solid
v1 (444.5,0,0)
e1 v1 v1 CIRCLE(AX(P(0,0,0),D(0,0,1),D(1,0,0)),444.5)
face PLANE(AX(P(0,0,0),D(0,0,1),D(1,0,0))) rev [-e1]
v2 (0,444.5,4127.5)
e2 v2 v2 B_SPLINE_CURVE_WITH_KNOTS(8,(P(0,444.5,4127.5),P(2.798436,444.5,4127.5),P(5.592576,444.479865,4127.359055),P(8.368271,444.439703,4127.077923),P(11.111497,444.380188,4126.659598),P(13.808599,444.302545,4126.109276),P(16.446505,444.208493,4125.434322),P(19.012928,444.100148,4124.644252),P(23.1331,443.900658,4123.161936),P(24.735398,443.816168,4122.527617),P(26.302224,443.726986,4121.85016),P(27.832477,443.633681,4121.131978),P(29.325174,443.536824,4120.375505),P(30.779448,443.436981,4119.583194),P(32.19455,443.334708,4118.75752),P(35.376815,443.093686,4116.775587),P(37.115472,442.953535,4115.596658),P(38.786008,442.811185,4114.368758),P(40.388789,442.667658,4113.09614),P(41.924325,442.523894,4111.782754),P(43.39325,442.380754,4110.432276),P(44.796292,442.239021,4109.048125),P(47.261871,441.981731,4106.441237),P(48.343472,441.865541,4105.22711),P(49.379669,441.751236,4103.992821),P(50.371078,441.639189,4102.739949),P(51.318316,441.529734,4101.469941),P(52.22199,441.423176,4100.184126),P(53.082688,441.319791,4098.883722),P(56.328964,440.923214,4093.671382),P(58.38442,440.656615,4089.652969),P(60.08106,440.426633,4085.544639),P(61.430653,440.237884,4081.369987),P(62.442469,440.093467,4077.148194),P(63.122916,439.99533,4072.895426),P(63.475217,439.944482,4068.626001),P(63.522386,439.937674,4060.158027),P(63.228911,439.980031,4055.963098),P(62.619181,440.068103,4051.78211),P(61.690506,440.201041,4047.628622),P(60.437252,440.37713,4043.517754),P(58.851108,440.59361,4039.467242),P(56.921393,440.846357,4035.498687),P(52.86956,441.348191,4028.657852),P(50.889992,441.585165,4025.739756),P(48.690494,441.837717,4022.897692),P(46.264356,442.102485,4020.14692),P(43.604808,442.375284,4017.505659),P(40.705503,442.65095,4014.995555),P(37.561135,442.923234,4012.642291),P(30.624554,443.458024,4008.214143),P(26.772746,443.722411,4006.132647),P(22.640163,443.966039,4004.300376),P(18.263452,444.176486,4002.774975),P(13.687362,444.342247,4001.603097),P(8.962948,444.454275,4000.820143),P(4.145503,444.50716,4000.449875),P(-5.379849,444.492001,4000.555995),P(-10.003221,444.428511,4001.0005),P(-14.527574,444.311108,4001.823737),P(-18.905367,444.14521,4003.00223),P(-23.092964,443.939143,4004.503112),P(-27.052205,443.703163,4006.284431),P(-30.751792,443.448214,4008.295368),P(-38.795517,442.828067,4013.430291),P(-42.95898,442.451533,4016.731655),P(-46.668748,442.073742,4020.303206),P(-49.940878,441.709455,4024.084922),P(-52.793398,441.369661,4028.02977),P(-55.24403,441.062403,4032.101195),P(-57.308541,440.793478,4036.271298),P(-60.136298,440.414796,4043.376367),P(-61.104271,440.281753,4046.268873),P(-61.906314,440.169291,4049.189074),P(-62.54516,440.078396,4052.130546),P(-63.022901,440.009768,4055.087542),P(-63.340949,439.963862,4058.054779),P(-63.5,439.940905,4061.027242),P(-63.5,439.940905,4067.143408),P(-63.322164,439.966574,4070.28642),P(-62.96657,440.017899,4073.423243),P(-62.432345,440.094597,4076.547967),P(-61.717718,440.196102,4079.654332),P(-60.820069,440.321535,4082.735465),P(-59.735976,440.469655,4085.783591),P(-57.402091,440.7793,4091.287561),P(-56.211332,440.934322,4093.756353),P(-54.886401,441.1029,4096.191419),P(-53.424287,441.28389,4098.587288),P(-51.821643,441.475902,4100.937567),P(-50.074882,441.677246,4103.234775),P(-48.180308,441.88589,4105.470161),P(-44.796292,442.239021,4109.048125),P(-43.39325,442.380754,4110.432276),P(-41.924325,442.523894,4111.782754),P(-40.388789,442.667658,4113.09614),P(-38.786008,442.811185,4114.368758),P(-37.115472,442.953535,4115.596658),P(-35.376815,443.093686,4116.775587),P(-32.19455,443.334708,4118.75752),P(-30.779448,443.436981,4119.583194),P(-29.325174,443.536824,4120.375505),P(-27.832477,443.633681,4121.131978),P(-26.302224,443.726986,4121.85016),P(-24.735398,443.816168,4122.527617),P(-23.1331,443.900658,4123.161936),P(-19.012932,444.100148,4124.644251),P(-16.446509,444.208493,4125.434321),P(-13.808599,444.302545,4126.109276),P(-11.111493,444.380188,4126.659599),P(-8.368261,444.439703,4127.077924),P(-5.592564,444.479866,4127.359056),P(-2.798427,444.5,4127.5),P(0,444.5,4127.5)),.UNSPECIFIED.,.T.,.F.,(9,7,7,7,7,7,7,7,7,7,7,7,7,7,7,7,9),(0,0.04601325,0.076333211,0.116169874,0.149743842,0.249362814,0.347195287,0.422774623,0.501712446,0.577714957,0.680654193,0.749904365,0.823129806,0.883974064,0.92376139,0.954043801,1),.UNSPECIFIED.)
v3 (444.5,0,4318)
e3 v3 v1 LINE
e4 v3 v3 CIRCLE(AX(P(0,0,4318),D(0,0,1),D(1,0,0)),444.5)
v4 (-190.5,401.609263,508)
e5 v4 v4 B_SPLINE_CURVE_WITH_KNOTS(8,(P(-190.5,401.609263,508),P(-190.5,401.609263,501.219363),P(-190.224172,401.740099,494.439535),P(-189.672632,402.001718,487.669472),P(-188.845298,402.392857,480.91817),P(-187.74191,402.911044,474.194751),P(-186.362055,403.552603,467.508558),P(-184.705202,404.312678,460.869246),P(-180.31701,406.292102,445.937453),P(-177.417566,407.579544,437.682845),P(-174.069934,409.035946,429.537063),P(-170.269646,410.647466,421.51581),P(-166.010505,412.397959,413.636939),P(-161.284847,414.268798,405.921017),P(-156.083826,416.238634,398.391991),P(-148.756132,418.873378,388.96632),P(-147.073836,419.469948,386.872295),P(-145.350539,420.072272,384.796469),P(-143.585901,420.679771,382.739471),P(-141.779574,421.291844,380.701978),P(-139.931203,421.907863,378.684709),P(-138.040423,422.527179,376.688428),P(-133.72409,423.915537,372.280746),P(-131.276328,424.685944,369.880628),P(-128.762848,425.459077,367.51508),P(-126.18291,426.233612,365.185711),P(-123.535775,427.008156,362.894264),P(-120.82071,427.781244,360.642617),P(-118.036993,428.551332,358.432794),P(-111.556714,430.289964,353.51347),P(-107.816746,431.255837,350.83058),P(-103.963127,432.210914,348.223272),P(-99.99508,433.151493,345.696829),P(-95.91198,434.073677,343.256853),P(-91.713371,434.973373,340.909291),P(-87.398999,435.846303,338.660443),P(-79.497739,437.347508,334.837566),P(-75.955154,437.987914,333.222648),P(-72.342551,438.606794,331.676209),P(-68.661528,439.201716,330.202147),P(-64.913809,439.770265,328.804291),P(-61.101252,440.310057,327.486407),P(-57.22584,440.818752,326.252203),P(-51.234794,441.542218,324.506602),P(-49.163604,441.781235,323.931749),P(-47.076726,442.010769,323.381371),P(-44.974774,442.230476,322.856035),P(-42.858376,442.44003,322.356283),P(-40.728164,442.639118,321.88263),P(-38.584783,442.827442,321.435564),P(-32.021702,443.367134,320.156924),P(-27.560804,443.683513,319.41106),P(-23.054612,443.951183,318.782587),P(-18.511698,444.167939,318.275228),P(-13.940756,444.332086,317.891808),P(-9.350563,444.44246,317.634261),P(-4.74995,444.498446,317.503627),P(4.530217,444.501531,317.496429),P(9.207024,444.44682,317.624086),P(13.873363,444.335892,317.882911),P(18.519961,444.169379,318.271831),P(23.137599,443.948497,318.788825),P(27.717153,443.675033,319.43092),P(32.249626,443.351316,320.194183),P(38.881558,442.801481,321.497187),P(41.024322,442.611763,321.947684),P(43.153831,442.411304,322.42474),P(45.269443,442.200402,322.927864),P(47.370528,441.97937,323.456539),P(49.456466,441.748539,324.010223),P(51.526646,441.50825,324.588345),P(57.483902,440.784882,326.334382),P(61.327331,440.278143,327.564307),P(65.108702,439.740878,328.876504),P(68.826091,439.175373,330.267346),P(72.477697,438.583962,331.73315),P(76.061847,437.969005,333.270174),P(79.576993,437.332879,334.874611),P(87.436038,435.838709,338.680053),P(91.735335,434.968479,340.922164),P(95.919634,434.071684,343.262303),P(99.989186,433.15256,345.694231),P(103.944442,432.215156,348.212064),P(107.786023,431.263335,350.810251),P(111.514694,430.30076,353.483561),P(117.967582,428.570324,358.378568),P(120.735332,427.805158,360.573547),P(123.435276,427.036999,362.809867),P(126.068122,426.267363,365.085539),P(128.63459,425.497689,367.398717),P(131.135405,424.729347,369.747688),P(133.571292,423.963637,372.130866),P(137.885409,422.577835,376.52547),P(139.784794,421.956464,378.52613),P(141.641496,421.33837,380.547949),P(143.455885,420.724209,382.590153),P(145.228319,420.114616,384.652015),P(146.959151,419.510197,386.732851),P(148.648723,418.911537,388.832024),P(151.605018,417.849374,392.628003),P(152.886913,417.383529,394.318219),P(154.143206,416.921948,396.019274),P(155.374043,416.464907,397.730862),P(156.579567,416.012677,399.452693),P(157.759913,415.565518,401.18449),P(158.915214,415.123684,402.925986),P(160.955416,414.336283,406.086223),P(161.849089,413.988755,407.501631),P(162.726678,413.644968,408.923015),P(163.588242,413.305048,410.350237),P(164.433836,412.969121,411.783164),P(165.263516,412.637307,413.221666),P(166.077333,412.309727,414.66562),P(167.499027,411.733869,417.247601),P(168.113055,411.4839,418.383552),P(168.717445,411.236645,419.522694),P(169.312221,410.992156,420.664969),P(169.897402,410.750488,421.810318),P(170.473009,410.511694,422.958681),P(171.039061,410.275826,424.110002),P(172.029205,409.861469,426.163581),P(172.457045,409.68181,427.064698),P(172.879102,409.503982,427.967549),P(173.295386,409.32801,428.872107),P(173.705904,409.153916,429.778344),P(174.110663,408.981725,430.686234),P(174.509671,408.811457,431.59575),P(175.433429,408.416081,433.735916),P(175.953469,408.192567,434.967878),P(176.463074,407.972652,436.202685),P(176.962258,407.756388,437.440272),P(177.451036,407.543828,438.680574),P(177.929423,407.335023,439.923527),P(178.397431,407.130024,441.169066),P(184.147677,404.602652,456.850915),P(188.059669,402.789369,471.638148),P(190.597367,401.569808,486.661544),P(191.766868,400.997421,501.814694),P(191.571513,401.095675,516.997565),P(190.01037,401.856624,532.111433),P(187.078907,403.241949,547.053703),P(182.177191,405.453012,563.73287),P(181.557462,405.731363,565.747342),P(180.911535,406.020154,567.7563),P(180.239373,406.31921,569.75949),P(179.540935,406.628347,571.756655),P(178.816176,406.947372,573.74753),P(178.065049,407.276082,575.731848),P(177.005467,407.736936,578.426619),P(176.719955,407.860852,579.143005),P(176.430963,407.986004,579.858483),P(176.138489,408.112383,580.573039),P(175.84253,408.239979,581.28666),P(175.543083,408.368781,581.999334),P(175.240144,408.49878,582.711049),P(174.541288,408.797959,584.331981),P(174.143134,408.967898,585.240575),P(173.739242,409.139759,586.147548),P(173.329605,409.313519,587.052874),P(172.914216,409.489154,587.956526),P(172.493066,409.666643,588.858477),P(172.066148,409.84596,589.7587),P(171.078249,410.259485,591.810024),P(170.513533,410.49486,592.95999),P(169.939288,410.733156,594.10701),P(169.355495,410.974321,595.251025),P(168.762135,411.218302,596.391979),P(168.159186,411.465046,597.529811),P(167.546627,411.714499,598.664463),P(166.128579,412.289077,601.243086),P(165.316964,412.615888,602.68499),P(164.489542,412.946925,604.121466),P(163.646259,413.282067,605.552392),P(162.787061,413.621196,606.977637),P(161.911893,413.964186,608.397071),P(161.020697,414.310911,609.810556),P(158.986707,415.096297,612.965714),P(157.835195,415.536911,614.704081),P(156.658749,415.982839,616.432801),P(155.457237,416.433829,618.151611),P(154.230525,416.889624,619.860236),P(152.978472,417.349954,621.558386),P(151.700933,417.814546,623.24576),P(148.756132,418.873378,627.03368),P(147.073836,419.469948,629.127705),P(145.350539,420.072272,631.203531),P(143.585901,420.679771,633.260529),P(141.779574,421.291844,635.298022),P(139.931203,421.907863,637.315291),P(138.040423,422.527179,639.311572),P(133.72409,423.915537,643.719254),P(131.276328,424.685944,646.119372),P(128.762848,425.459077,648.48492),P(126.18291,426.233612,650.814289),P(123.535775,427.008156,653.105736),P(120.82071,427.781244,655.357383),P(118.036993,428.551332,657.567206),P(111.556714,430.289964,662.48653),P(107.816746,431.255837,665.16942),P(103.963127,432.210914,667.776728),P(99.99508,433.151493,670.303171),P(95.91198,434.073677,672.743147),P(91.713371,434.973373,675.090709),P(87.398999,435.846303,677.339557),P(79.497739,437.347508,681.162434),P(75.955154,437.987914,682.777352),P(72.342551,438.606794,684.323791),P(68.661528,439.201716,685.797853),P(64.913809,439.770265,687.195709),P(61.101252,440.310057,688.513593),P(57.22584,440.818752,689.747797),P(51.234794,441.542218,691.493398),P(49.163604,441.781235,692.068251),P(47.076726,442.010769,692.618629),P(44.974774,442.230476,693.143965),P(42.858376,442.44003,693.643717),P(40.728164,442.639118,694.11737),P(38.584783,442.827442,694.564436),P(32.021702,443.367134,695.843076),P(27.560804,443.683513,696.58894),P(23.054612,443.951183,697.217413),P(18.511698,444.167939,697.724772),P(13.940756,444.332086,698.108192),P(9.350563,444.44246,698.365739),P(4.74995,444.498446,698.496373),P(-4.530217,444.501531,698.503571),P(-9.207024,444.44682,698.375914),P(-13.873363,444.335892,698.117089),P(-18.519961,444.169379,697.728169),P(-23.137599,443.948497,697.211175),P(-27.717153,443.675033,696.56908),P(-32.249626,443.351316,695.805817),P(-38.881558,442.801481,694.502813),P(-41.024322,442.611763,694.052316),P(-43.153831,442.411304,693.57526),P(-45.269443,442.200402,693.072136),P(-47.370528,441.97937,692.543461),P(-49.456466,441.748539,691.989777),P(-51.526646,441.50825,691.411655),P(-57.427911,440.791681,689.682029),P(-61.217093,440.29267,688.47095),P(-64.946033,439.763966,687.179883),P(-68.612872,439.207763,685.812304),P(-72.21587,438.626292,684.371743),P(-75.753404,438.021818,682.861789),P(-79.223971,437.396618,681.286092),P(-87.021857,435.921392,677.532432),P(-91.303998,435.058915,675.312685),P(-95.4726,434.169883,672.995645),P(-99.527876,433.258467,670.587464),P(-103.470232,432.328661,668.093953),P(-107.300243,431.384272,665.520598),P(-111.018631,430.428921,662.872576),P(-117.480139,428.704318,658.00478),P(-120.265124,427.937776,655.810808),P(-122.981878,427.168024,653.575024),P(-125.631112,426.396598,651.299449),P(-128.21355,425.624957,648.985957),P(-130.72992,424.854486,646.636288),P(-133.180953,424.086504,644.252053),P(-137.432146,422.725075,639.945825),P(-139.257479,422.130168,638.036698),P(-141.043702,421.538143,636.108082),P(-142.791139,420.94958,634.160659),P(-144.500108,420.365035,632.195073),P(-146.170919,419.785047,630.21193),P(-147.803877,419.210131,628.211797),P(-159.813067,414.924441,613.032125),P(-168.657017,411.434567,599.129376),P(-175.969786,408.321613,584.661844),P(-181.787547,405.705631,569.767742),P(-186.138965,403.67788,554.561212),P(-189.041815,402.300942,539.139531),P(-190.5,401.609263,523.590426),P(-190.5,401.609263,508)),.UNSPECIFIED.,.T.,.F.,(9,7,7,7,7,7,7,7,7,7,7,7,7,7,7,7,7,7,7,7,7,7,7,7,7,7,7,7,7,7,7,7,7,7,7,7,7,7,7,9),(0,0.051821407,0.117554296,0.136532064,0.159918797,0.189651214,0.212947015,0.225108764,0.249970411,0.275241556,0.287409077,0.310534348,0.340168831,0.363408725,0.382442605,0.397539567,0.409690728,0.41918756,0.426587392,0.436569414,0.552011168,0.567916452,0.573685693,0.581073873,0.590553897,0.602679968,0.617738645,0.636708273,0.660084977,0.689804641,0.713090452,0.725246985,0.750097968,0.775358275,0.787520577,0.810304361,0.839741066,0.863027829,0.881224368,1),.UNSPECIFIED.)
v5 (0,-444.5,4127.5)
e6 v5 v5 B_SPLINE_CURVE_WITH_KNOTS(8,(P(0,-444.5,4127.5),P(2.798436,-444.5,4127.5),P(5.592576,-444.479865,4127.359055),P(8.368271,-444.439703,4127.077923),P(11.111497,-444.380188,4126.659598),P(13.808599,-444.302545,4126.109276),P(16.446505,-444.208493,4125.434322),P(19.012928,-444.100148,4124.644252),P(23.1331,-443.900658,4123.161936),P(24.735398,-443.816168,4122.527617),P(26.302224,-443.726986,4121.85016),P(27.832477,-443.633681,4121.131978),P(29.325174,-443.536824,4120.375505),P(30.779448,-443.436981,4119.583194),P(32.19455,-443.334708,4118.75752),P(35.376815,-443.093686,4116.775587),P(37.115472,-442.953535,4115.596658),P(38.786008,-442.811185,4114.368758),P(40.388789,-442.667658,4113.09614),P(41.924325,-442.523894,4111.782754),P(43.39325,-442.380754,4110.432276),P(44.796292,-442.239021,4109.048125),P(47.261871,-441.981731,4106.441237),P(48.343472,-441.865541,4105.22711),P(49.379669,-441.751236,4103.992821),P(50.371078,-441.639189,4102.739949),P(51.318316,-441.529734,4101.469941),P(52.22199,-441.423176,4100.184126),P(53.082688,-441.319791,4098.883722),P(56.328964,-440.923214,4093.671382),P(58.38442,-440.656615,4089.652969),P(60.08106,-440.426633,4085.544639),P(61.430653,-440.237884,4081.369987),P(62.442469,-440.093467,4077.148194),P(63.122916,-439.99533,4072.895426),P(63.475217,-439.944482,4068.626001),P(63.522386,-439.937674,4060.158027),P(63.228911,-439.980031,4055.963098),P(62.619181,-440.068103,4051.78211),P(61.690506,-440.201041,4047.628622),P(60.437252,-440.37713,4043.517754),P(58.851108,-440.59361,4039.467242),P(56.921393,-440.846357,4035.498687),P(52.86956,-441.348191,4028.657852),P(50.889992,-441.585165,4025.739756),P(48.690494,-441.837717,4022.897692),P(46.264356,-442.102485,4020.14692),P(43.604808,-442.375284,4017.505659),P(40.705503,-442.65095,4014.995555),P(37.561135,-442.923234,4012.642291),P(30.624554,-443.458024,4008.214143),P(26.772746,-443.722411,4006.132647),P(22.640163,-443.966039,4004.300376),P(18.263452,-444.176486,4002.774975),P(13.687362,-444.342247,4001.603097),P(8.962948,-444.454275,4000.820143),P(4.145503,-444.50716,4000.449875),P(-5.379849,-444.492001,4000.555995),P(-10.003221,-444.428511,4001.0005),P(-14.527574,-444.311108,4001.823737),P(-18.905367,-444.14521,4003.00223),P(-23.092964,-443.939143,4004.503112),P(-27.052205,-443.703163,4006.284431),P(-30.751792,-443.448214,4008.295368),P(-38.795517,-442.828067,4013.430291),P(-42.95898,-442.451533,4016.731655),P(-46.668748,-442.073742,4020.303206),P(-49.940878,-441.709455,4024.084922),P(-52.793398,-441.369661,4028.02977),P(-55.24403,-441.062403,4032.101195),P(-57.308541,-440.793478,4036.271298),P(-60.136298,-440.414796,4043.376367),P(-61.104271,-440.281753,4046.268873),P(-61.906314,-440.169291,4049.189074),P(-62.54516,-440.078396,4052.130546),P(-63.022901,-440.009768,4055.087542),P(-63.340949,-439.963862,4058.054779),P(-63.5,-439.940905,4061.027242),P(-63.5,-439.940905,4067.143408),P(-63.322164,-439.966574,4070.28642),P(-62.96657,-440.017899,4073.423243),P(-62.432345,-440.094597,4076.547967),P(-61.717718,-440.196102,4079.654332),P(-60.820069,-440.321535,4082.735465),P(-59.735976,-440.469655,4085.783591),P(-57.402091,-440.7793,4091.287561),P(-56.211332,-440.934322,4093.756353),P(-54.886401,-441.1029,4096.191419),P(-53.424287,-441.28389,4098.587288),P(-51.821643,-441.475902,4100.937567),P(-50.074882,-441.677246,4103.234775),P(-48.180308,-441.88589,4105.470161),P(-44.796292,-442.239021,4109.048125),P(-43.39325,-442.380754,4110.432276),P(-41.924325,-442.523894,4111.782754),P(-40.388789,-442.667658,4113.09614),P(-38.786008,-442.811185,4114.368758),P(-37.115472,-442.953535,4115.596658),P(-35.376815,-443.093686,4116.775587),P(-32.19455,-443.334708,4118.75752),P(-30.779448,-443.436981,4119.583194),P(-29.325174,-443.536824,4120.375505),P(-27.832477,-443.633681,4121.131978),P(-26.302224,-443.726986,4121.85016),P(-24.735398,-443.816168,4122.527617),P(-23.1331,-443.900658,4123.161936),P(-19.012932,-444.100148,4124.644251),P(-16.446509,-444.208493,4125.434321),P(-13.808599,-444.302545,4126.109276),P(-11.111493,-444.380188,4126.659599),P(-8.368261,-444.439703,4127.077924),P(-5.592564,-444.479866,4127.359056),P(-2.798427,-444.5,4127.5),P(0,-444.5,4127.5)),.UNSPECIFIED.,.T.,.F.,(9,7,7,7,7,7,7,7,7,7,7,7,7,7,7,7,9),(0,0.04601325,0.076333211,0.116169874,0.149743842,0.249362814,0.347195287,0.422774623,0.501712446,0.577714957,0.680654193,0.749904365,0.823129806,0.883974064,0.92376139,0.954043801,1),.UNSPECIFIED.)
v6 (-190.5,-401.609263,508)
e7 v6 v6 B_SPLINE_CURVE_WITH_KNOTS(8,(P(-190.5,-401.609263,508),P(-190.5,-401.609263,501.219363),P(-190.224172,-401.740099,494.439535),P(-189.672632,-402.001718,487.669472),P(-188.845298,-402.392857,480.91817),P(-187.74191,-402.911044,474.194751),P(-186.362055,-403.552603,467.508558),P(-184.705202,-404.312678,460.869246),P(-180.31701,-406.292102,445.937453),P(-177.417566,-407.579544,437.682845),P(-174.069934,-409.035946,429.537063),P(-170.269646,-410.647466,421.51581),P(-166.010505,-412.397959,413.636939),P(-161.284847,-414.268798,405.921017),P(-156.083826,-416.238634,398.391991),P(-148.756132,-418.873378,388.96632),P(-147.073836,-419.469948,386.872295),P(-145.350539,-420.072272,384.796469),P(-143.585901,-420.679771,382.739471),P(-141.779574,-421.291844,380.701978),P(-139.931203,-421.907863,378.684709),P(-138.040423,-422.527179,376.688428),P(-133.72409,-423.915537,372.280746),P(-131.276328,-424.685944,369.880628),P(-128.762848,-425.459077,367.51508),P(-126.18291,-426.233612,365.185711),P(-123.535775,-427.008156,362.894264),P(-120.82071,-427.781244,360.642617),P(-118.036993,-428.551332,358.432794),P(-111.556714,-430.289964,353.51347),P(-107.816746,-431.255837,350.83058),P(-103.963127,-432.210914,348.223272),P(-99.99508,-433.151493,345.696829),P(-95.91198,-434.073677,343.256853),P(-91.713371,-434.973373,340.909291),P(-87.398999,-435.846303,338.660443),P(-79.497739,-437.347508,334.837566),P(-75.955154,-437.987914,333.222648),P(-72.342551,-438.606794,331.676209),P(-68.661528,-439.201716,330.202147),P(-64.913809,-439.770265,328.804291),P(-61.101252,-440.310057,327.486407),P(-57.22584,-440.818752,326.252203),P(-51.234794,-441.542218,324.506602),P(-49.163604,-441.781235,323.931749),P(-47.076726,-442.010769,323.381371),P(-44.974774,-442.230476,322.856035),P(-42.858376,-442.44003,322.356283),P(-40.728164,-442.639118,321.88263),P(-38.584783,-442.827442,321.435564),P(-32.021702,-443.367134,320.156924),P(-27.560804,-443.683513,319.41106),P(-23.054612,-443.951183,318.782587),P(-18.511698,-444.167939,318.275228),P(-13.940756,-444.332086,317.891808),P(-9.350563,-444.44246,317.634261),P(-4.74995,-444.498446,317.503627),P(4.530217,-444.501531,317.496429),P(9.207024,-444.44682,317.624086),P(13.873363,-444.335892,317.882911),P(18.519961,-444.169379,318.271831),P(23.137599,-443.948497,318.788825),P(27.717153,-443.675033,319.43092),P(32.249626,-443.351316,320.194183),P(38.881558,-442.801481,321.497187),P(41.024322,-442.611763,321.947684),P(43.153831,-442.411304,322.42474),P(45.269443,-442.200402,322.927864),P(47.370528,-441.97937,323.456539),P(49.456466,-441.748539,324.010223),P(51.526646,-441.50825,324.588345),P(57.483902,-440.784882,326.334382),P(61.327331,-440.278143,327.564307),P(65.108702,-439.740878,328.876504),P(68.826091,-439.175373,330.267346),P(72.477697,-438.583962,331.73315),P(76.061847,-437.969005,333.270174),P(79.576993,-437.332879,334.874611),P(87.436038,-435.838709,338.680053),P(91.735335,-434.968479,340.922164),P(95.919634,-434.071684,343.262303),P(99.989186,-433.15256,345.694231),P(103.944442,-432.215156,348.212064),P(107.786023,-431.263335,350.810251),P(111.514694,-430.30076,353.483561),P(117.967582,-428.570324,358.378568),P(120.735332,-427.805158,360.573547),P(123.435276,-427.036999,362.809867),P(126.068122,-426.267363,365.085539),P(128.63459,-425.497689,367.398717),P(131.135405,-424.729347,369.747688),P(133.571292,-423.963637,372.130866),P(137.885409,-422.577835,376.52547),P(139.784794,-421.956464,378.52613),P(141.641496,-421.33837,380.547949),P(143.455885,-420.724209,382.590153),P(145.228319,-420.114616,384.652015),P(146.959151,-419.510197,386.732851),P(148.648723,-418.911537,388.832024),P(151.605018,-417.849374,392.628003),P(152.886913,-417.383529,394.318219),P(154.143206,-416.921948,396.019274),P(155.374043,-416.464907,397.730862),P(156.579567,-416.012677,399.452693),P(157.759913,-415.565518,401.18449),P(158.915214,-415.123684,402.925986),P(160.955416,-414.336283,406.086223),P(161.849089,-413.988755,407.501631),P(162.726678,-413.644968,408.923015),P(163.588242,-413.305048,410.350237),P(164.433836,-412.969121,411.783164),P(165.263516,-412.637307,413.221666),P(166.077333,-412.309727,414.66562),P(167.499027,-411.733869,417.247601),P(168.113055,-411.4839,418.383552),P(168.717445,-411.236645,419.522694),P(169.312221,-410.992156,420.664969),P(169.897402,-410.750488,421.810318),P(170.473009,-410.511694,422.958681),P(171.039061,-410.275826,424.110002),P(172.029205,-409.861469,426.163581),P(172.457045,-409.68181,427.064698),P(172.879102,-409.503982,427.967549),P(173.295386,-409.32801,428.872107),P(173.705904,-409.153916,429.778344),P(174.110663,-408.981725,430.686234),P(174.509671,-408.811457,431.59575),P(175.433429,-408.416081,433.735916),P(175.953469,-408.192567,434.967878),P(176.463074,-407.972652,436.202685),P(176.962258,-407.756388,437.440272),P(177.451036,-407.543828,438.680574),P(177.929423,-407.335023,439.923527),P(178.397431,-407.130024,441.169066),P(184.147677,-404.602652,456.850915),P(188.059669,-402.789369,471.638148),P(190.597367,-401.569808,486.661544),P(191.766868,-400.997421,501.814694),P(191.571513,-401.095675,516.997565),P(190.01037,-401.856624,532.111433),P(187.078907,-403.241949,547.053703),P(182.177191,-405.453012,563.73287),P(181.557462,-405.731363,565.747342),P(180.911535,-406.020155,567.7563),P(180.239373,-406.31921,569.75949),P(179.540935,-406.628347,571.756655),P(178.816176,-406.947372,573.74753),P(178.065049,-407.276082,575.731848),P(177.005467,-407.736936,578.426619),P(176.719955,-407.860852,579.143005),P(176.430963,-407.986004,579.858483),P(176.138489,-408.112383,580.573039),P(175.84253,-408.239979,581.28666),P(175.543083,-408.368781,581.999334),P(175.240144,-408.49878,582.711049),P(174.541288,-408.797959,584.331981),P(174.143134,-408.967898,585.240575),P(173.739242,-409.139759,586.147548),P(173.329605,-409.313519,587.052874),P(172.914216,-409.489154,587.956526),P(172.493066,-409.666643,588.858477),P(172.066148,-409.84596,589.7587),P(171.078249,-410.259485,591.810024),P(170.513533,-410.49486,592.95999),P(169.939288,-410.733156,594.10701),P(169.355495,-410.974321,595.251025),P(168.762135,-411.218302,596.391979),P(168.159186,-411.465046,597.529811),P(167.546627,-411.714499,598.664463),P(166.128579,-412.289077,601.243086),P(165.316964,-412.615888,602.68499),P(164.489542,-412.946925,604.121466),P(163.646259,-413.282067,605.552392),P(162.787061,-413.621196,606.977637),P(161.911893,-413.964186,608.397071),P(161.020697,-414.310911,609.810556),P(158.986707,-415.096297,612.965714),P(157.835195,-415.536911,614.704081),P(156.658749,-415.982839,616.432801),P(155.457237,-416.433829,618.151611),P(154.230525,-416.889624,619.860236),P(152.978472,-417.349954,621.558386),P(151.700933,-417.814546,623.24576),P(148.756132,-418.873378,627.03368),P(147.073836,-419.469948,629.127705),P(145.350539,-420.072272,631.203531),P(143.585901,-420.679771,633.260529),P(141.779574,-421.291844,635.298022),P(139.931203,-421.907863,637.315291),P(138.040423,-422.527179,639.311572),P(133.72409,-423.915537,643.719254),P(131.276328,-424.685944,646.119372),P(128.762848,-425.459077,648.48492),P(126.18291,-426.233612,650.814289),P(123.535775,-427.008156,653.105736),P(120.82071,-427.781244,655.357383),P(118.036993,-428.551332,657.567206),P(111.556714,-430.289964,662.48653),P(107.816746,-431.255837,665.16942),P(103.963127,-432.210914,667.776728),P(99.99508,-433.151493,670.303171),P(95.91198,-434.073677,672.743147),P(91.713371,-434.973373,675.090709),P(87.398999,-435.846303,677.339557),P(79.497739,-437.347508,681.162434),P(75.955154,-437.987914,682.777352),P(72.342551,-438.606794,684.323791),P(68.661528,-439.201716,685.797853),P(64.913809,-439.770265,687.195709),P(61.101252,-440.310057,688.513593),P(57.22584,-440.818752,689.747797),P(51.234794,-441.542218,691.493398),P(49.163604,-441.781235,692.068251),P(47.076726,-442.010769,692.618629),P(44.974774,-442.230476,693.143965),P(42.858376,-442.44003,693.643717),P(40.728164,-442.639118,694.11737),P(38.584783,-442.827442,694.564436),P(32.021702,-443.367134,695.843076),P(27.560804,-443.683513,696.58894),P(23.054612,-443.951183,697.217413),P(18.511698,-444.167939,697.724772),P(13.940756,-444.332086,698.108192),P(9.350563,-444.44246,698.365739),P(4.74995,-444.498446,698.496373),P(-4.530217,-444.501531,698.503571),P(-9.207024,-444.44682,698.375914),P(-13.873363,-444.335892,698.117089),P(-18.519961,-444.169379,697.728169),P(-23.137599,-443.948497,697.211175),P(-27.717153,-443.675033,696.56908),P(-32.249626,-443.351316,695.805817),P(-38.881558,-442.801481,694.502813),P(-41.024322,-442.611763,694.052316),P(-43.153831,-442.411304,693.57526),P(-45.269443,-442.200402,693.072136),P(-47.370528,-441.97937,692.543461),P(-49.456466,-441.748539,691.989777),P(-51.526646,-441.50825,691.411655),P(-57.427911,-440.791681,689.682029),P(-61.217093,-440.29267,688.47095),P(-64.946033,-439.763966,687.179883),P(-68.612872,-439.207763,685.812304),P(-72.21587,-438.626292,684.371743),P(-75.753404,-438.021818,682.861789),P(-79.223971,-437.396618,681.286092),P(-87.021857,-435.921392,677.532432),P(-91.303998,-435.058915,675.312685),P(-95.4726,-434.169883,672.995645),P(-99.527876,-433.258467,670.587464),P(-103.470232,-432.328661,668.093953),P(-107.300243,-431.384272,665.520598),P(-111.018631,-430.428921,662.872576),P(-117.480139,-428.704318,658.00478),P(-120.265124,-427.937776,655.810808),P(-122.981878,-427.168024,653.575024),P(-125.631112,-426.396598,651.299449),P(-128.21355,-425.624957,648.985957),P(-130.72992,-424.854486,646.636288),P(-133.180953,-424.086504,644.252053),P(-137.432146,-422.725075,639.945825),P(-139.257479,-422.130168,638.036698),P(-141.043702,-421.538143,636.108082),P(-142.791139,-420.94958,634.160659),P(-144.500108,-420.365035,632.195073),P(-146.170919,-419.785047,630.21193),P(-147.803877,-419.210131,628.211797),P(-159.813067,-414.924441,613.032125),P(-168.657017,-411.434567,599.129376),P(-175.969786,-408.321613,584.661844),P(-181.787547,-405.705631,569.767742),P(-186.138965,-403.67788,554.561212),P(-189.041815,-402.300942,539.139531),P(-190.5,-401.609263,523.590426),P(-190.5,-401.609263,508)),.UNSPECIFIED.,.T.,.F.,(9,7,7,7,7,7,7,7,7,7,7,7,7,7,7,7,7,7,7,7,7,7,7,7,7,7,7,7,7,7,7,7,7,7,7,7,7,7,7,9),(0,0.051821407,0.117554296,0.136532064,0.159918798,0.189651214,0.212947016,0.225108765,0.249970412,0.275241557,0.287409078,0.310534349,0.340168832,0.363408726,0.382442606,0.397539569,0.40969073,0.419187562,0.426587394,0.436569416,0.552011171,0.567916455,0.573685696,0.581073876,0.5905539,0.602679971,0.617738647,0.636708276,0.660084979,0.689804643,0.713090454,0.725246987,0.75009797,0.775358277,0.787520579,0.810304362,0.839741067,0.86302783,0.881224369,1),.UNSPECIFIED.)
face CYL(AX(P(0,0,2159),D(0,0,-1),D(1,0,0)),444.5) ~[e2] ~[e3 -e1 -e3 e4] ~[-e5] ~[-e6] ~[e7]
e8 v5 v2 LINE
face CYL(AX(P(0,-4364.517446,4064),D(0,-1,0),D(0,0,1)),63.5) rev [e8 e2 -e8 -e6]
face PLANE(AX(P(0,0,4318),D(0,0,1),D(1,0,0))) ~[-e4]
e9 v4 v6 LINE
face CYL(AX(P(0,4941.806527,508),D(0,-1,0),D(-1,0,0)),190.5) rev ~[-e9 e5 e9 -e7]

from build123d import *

# Parameters (mm, degrees)
SKETCH1_W               = 444.5
SKETCH1_H               = 4318
HOLE1_D                 = 381
CUT_EXTRUDE1_DEPTH      = 4364.517445942
CUT_EXTRUDE1_DEPTH_BACK = 4364.517445942
SKETCH4_R               = 63.5


with BuildPart() as part:
    # Sketch1 → Revolve1 (revolve)
    with BuildSketch(Plane(origin=(0, 0, 0), x_dir=(1, 0, 0), z_dir=(0, 1, 0))):
        with Locations((222.25, -2159)):
            Rectangle(SKETCH1_W, SKETCH1_H)
    revolve(axis=Axis((0, 0, 0), (0, 0, 1)))

    # Hole1 (through all)
    with Locations(Plane(origin=(0, 444.5, 508), x_dir=(1, 0, 0), z_dir=(0, 1, 0))):
        with Locations((0, 0)):
            Hole(HOLE1_D / 2)

    # Sketch4 → Cut-Extrude1 (cut, two sides: drawn at the far end of the back side and taken through both)
    with BuildSketch(Plane(origin=(0, 0, 0), x_dir=(1, 0, 0), z_dir=(0, 1, 0)).offset(-CUT_EXTRUDE1_DEPTH_BACK)):
        with Locations(Location((0, -4064, 0), (0, 0, 270))):
            Circle(SKETCH4_R)
    extrude(amount=CUT_EXTRUDE1_DEPTH + CUT_EXTRUDE1_DEPTH_BACK, mode=Mode.SUBTRACT)


solid = part.part
